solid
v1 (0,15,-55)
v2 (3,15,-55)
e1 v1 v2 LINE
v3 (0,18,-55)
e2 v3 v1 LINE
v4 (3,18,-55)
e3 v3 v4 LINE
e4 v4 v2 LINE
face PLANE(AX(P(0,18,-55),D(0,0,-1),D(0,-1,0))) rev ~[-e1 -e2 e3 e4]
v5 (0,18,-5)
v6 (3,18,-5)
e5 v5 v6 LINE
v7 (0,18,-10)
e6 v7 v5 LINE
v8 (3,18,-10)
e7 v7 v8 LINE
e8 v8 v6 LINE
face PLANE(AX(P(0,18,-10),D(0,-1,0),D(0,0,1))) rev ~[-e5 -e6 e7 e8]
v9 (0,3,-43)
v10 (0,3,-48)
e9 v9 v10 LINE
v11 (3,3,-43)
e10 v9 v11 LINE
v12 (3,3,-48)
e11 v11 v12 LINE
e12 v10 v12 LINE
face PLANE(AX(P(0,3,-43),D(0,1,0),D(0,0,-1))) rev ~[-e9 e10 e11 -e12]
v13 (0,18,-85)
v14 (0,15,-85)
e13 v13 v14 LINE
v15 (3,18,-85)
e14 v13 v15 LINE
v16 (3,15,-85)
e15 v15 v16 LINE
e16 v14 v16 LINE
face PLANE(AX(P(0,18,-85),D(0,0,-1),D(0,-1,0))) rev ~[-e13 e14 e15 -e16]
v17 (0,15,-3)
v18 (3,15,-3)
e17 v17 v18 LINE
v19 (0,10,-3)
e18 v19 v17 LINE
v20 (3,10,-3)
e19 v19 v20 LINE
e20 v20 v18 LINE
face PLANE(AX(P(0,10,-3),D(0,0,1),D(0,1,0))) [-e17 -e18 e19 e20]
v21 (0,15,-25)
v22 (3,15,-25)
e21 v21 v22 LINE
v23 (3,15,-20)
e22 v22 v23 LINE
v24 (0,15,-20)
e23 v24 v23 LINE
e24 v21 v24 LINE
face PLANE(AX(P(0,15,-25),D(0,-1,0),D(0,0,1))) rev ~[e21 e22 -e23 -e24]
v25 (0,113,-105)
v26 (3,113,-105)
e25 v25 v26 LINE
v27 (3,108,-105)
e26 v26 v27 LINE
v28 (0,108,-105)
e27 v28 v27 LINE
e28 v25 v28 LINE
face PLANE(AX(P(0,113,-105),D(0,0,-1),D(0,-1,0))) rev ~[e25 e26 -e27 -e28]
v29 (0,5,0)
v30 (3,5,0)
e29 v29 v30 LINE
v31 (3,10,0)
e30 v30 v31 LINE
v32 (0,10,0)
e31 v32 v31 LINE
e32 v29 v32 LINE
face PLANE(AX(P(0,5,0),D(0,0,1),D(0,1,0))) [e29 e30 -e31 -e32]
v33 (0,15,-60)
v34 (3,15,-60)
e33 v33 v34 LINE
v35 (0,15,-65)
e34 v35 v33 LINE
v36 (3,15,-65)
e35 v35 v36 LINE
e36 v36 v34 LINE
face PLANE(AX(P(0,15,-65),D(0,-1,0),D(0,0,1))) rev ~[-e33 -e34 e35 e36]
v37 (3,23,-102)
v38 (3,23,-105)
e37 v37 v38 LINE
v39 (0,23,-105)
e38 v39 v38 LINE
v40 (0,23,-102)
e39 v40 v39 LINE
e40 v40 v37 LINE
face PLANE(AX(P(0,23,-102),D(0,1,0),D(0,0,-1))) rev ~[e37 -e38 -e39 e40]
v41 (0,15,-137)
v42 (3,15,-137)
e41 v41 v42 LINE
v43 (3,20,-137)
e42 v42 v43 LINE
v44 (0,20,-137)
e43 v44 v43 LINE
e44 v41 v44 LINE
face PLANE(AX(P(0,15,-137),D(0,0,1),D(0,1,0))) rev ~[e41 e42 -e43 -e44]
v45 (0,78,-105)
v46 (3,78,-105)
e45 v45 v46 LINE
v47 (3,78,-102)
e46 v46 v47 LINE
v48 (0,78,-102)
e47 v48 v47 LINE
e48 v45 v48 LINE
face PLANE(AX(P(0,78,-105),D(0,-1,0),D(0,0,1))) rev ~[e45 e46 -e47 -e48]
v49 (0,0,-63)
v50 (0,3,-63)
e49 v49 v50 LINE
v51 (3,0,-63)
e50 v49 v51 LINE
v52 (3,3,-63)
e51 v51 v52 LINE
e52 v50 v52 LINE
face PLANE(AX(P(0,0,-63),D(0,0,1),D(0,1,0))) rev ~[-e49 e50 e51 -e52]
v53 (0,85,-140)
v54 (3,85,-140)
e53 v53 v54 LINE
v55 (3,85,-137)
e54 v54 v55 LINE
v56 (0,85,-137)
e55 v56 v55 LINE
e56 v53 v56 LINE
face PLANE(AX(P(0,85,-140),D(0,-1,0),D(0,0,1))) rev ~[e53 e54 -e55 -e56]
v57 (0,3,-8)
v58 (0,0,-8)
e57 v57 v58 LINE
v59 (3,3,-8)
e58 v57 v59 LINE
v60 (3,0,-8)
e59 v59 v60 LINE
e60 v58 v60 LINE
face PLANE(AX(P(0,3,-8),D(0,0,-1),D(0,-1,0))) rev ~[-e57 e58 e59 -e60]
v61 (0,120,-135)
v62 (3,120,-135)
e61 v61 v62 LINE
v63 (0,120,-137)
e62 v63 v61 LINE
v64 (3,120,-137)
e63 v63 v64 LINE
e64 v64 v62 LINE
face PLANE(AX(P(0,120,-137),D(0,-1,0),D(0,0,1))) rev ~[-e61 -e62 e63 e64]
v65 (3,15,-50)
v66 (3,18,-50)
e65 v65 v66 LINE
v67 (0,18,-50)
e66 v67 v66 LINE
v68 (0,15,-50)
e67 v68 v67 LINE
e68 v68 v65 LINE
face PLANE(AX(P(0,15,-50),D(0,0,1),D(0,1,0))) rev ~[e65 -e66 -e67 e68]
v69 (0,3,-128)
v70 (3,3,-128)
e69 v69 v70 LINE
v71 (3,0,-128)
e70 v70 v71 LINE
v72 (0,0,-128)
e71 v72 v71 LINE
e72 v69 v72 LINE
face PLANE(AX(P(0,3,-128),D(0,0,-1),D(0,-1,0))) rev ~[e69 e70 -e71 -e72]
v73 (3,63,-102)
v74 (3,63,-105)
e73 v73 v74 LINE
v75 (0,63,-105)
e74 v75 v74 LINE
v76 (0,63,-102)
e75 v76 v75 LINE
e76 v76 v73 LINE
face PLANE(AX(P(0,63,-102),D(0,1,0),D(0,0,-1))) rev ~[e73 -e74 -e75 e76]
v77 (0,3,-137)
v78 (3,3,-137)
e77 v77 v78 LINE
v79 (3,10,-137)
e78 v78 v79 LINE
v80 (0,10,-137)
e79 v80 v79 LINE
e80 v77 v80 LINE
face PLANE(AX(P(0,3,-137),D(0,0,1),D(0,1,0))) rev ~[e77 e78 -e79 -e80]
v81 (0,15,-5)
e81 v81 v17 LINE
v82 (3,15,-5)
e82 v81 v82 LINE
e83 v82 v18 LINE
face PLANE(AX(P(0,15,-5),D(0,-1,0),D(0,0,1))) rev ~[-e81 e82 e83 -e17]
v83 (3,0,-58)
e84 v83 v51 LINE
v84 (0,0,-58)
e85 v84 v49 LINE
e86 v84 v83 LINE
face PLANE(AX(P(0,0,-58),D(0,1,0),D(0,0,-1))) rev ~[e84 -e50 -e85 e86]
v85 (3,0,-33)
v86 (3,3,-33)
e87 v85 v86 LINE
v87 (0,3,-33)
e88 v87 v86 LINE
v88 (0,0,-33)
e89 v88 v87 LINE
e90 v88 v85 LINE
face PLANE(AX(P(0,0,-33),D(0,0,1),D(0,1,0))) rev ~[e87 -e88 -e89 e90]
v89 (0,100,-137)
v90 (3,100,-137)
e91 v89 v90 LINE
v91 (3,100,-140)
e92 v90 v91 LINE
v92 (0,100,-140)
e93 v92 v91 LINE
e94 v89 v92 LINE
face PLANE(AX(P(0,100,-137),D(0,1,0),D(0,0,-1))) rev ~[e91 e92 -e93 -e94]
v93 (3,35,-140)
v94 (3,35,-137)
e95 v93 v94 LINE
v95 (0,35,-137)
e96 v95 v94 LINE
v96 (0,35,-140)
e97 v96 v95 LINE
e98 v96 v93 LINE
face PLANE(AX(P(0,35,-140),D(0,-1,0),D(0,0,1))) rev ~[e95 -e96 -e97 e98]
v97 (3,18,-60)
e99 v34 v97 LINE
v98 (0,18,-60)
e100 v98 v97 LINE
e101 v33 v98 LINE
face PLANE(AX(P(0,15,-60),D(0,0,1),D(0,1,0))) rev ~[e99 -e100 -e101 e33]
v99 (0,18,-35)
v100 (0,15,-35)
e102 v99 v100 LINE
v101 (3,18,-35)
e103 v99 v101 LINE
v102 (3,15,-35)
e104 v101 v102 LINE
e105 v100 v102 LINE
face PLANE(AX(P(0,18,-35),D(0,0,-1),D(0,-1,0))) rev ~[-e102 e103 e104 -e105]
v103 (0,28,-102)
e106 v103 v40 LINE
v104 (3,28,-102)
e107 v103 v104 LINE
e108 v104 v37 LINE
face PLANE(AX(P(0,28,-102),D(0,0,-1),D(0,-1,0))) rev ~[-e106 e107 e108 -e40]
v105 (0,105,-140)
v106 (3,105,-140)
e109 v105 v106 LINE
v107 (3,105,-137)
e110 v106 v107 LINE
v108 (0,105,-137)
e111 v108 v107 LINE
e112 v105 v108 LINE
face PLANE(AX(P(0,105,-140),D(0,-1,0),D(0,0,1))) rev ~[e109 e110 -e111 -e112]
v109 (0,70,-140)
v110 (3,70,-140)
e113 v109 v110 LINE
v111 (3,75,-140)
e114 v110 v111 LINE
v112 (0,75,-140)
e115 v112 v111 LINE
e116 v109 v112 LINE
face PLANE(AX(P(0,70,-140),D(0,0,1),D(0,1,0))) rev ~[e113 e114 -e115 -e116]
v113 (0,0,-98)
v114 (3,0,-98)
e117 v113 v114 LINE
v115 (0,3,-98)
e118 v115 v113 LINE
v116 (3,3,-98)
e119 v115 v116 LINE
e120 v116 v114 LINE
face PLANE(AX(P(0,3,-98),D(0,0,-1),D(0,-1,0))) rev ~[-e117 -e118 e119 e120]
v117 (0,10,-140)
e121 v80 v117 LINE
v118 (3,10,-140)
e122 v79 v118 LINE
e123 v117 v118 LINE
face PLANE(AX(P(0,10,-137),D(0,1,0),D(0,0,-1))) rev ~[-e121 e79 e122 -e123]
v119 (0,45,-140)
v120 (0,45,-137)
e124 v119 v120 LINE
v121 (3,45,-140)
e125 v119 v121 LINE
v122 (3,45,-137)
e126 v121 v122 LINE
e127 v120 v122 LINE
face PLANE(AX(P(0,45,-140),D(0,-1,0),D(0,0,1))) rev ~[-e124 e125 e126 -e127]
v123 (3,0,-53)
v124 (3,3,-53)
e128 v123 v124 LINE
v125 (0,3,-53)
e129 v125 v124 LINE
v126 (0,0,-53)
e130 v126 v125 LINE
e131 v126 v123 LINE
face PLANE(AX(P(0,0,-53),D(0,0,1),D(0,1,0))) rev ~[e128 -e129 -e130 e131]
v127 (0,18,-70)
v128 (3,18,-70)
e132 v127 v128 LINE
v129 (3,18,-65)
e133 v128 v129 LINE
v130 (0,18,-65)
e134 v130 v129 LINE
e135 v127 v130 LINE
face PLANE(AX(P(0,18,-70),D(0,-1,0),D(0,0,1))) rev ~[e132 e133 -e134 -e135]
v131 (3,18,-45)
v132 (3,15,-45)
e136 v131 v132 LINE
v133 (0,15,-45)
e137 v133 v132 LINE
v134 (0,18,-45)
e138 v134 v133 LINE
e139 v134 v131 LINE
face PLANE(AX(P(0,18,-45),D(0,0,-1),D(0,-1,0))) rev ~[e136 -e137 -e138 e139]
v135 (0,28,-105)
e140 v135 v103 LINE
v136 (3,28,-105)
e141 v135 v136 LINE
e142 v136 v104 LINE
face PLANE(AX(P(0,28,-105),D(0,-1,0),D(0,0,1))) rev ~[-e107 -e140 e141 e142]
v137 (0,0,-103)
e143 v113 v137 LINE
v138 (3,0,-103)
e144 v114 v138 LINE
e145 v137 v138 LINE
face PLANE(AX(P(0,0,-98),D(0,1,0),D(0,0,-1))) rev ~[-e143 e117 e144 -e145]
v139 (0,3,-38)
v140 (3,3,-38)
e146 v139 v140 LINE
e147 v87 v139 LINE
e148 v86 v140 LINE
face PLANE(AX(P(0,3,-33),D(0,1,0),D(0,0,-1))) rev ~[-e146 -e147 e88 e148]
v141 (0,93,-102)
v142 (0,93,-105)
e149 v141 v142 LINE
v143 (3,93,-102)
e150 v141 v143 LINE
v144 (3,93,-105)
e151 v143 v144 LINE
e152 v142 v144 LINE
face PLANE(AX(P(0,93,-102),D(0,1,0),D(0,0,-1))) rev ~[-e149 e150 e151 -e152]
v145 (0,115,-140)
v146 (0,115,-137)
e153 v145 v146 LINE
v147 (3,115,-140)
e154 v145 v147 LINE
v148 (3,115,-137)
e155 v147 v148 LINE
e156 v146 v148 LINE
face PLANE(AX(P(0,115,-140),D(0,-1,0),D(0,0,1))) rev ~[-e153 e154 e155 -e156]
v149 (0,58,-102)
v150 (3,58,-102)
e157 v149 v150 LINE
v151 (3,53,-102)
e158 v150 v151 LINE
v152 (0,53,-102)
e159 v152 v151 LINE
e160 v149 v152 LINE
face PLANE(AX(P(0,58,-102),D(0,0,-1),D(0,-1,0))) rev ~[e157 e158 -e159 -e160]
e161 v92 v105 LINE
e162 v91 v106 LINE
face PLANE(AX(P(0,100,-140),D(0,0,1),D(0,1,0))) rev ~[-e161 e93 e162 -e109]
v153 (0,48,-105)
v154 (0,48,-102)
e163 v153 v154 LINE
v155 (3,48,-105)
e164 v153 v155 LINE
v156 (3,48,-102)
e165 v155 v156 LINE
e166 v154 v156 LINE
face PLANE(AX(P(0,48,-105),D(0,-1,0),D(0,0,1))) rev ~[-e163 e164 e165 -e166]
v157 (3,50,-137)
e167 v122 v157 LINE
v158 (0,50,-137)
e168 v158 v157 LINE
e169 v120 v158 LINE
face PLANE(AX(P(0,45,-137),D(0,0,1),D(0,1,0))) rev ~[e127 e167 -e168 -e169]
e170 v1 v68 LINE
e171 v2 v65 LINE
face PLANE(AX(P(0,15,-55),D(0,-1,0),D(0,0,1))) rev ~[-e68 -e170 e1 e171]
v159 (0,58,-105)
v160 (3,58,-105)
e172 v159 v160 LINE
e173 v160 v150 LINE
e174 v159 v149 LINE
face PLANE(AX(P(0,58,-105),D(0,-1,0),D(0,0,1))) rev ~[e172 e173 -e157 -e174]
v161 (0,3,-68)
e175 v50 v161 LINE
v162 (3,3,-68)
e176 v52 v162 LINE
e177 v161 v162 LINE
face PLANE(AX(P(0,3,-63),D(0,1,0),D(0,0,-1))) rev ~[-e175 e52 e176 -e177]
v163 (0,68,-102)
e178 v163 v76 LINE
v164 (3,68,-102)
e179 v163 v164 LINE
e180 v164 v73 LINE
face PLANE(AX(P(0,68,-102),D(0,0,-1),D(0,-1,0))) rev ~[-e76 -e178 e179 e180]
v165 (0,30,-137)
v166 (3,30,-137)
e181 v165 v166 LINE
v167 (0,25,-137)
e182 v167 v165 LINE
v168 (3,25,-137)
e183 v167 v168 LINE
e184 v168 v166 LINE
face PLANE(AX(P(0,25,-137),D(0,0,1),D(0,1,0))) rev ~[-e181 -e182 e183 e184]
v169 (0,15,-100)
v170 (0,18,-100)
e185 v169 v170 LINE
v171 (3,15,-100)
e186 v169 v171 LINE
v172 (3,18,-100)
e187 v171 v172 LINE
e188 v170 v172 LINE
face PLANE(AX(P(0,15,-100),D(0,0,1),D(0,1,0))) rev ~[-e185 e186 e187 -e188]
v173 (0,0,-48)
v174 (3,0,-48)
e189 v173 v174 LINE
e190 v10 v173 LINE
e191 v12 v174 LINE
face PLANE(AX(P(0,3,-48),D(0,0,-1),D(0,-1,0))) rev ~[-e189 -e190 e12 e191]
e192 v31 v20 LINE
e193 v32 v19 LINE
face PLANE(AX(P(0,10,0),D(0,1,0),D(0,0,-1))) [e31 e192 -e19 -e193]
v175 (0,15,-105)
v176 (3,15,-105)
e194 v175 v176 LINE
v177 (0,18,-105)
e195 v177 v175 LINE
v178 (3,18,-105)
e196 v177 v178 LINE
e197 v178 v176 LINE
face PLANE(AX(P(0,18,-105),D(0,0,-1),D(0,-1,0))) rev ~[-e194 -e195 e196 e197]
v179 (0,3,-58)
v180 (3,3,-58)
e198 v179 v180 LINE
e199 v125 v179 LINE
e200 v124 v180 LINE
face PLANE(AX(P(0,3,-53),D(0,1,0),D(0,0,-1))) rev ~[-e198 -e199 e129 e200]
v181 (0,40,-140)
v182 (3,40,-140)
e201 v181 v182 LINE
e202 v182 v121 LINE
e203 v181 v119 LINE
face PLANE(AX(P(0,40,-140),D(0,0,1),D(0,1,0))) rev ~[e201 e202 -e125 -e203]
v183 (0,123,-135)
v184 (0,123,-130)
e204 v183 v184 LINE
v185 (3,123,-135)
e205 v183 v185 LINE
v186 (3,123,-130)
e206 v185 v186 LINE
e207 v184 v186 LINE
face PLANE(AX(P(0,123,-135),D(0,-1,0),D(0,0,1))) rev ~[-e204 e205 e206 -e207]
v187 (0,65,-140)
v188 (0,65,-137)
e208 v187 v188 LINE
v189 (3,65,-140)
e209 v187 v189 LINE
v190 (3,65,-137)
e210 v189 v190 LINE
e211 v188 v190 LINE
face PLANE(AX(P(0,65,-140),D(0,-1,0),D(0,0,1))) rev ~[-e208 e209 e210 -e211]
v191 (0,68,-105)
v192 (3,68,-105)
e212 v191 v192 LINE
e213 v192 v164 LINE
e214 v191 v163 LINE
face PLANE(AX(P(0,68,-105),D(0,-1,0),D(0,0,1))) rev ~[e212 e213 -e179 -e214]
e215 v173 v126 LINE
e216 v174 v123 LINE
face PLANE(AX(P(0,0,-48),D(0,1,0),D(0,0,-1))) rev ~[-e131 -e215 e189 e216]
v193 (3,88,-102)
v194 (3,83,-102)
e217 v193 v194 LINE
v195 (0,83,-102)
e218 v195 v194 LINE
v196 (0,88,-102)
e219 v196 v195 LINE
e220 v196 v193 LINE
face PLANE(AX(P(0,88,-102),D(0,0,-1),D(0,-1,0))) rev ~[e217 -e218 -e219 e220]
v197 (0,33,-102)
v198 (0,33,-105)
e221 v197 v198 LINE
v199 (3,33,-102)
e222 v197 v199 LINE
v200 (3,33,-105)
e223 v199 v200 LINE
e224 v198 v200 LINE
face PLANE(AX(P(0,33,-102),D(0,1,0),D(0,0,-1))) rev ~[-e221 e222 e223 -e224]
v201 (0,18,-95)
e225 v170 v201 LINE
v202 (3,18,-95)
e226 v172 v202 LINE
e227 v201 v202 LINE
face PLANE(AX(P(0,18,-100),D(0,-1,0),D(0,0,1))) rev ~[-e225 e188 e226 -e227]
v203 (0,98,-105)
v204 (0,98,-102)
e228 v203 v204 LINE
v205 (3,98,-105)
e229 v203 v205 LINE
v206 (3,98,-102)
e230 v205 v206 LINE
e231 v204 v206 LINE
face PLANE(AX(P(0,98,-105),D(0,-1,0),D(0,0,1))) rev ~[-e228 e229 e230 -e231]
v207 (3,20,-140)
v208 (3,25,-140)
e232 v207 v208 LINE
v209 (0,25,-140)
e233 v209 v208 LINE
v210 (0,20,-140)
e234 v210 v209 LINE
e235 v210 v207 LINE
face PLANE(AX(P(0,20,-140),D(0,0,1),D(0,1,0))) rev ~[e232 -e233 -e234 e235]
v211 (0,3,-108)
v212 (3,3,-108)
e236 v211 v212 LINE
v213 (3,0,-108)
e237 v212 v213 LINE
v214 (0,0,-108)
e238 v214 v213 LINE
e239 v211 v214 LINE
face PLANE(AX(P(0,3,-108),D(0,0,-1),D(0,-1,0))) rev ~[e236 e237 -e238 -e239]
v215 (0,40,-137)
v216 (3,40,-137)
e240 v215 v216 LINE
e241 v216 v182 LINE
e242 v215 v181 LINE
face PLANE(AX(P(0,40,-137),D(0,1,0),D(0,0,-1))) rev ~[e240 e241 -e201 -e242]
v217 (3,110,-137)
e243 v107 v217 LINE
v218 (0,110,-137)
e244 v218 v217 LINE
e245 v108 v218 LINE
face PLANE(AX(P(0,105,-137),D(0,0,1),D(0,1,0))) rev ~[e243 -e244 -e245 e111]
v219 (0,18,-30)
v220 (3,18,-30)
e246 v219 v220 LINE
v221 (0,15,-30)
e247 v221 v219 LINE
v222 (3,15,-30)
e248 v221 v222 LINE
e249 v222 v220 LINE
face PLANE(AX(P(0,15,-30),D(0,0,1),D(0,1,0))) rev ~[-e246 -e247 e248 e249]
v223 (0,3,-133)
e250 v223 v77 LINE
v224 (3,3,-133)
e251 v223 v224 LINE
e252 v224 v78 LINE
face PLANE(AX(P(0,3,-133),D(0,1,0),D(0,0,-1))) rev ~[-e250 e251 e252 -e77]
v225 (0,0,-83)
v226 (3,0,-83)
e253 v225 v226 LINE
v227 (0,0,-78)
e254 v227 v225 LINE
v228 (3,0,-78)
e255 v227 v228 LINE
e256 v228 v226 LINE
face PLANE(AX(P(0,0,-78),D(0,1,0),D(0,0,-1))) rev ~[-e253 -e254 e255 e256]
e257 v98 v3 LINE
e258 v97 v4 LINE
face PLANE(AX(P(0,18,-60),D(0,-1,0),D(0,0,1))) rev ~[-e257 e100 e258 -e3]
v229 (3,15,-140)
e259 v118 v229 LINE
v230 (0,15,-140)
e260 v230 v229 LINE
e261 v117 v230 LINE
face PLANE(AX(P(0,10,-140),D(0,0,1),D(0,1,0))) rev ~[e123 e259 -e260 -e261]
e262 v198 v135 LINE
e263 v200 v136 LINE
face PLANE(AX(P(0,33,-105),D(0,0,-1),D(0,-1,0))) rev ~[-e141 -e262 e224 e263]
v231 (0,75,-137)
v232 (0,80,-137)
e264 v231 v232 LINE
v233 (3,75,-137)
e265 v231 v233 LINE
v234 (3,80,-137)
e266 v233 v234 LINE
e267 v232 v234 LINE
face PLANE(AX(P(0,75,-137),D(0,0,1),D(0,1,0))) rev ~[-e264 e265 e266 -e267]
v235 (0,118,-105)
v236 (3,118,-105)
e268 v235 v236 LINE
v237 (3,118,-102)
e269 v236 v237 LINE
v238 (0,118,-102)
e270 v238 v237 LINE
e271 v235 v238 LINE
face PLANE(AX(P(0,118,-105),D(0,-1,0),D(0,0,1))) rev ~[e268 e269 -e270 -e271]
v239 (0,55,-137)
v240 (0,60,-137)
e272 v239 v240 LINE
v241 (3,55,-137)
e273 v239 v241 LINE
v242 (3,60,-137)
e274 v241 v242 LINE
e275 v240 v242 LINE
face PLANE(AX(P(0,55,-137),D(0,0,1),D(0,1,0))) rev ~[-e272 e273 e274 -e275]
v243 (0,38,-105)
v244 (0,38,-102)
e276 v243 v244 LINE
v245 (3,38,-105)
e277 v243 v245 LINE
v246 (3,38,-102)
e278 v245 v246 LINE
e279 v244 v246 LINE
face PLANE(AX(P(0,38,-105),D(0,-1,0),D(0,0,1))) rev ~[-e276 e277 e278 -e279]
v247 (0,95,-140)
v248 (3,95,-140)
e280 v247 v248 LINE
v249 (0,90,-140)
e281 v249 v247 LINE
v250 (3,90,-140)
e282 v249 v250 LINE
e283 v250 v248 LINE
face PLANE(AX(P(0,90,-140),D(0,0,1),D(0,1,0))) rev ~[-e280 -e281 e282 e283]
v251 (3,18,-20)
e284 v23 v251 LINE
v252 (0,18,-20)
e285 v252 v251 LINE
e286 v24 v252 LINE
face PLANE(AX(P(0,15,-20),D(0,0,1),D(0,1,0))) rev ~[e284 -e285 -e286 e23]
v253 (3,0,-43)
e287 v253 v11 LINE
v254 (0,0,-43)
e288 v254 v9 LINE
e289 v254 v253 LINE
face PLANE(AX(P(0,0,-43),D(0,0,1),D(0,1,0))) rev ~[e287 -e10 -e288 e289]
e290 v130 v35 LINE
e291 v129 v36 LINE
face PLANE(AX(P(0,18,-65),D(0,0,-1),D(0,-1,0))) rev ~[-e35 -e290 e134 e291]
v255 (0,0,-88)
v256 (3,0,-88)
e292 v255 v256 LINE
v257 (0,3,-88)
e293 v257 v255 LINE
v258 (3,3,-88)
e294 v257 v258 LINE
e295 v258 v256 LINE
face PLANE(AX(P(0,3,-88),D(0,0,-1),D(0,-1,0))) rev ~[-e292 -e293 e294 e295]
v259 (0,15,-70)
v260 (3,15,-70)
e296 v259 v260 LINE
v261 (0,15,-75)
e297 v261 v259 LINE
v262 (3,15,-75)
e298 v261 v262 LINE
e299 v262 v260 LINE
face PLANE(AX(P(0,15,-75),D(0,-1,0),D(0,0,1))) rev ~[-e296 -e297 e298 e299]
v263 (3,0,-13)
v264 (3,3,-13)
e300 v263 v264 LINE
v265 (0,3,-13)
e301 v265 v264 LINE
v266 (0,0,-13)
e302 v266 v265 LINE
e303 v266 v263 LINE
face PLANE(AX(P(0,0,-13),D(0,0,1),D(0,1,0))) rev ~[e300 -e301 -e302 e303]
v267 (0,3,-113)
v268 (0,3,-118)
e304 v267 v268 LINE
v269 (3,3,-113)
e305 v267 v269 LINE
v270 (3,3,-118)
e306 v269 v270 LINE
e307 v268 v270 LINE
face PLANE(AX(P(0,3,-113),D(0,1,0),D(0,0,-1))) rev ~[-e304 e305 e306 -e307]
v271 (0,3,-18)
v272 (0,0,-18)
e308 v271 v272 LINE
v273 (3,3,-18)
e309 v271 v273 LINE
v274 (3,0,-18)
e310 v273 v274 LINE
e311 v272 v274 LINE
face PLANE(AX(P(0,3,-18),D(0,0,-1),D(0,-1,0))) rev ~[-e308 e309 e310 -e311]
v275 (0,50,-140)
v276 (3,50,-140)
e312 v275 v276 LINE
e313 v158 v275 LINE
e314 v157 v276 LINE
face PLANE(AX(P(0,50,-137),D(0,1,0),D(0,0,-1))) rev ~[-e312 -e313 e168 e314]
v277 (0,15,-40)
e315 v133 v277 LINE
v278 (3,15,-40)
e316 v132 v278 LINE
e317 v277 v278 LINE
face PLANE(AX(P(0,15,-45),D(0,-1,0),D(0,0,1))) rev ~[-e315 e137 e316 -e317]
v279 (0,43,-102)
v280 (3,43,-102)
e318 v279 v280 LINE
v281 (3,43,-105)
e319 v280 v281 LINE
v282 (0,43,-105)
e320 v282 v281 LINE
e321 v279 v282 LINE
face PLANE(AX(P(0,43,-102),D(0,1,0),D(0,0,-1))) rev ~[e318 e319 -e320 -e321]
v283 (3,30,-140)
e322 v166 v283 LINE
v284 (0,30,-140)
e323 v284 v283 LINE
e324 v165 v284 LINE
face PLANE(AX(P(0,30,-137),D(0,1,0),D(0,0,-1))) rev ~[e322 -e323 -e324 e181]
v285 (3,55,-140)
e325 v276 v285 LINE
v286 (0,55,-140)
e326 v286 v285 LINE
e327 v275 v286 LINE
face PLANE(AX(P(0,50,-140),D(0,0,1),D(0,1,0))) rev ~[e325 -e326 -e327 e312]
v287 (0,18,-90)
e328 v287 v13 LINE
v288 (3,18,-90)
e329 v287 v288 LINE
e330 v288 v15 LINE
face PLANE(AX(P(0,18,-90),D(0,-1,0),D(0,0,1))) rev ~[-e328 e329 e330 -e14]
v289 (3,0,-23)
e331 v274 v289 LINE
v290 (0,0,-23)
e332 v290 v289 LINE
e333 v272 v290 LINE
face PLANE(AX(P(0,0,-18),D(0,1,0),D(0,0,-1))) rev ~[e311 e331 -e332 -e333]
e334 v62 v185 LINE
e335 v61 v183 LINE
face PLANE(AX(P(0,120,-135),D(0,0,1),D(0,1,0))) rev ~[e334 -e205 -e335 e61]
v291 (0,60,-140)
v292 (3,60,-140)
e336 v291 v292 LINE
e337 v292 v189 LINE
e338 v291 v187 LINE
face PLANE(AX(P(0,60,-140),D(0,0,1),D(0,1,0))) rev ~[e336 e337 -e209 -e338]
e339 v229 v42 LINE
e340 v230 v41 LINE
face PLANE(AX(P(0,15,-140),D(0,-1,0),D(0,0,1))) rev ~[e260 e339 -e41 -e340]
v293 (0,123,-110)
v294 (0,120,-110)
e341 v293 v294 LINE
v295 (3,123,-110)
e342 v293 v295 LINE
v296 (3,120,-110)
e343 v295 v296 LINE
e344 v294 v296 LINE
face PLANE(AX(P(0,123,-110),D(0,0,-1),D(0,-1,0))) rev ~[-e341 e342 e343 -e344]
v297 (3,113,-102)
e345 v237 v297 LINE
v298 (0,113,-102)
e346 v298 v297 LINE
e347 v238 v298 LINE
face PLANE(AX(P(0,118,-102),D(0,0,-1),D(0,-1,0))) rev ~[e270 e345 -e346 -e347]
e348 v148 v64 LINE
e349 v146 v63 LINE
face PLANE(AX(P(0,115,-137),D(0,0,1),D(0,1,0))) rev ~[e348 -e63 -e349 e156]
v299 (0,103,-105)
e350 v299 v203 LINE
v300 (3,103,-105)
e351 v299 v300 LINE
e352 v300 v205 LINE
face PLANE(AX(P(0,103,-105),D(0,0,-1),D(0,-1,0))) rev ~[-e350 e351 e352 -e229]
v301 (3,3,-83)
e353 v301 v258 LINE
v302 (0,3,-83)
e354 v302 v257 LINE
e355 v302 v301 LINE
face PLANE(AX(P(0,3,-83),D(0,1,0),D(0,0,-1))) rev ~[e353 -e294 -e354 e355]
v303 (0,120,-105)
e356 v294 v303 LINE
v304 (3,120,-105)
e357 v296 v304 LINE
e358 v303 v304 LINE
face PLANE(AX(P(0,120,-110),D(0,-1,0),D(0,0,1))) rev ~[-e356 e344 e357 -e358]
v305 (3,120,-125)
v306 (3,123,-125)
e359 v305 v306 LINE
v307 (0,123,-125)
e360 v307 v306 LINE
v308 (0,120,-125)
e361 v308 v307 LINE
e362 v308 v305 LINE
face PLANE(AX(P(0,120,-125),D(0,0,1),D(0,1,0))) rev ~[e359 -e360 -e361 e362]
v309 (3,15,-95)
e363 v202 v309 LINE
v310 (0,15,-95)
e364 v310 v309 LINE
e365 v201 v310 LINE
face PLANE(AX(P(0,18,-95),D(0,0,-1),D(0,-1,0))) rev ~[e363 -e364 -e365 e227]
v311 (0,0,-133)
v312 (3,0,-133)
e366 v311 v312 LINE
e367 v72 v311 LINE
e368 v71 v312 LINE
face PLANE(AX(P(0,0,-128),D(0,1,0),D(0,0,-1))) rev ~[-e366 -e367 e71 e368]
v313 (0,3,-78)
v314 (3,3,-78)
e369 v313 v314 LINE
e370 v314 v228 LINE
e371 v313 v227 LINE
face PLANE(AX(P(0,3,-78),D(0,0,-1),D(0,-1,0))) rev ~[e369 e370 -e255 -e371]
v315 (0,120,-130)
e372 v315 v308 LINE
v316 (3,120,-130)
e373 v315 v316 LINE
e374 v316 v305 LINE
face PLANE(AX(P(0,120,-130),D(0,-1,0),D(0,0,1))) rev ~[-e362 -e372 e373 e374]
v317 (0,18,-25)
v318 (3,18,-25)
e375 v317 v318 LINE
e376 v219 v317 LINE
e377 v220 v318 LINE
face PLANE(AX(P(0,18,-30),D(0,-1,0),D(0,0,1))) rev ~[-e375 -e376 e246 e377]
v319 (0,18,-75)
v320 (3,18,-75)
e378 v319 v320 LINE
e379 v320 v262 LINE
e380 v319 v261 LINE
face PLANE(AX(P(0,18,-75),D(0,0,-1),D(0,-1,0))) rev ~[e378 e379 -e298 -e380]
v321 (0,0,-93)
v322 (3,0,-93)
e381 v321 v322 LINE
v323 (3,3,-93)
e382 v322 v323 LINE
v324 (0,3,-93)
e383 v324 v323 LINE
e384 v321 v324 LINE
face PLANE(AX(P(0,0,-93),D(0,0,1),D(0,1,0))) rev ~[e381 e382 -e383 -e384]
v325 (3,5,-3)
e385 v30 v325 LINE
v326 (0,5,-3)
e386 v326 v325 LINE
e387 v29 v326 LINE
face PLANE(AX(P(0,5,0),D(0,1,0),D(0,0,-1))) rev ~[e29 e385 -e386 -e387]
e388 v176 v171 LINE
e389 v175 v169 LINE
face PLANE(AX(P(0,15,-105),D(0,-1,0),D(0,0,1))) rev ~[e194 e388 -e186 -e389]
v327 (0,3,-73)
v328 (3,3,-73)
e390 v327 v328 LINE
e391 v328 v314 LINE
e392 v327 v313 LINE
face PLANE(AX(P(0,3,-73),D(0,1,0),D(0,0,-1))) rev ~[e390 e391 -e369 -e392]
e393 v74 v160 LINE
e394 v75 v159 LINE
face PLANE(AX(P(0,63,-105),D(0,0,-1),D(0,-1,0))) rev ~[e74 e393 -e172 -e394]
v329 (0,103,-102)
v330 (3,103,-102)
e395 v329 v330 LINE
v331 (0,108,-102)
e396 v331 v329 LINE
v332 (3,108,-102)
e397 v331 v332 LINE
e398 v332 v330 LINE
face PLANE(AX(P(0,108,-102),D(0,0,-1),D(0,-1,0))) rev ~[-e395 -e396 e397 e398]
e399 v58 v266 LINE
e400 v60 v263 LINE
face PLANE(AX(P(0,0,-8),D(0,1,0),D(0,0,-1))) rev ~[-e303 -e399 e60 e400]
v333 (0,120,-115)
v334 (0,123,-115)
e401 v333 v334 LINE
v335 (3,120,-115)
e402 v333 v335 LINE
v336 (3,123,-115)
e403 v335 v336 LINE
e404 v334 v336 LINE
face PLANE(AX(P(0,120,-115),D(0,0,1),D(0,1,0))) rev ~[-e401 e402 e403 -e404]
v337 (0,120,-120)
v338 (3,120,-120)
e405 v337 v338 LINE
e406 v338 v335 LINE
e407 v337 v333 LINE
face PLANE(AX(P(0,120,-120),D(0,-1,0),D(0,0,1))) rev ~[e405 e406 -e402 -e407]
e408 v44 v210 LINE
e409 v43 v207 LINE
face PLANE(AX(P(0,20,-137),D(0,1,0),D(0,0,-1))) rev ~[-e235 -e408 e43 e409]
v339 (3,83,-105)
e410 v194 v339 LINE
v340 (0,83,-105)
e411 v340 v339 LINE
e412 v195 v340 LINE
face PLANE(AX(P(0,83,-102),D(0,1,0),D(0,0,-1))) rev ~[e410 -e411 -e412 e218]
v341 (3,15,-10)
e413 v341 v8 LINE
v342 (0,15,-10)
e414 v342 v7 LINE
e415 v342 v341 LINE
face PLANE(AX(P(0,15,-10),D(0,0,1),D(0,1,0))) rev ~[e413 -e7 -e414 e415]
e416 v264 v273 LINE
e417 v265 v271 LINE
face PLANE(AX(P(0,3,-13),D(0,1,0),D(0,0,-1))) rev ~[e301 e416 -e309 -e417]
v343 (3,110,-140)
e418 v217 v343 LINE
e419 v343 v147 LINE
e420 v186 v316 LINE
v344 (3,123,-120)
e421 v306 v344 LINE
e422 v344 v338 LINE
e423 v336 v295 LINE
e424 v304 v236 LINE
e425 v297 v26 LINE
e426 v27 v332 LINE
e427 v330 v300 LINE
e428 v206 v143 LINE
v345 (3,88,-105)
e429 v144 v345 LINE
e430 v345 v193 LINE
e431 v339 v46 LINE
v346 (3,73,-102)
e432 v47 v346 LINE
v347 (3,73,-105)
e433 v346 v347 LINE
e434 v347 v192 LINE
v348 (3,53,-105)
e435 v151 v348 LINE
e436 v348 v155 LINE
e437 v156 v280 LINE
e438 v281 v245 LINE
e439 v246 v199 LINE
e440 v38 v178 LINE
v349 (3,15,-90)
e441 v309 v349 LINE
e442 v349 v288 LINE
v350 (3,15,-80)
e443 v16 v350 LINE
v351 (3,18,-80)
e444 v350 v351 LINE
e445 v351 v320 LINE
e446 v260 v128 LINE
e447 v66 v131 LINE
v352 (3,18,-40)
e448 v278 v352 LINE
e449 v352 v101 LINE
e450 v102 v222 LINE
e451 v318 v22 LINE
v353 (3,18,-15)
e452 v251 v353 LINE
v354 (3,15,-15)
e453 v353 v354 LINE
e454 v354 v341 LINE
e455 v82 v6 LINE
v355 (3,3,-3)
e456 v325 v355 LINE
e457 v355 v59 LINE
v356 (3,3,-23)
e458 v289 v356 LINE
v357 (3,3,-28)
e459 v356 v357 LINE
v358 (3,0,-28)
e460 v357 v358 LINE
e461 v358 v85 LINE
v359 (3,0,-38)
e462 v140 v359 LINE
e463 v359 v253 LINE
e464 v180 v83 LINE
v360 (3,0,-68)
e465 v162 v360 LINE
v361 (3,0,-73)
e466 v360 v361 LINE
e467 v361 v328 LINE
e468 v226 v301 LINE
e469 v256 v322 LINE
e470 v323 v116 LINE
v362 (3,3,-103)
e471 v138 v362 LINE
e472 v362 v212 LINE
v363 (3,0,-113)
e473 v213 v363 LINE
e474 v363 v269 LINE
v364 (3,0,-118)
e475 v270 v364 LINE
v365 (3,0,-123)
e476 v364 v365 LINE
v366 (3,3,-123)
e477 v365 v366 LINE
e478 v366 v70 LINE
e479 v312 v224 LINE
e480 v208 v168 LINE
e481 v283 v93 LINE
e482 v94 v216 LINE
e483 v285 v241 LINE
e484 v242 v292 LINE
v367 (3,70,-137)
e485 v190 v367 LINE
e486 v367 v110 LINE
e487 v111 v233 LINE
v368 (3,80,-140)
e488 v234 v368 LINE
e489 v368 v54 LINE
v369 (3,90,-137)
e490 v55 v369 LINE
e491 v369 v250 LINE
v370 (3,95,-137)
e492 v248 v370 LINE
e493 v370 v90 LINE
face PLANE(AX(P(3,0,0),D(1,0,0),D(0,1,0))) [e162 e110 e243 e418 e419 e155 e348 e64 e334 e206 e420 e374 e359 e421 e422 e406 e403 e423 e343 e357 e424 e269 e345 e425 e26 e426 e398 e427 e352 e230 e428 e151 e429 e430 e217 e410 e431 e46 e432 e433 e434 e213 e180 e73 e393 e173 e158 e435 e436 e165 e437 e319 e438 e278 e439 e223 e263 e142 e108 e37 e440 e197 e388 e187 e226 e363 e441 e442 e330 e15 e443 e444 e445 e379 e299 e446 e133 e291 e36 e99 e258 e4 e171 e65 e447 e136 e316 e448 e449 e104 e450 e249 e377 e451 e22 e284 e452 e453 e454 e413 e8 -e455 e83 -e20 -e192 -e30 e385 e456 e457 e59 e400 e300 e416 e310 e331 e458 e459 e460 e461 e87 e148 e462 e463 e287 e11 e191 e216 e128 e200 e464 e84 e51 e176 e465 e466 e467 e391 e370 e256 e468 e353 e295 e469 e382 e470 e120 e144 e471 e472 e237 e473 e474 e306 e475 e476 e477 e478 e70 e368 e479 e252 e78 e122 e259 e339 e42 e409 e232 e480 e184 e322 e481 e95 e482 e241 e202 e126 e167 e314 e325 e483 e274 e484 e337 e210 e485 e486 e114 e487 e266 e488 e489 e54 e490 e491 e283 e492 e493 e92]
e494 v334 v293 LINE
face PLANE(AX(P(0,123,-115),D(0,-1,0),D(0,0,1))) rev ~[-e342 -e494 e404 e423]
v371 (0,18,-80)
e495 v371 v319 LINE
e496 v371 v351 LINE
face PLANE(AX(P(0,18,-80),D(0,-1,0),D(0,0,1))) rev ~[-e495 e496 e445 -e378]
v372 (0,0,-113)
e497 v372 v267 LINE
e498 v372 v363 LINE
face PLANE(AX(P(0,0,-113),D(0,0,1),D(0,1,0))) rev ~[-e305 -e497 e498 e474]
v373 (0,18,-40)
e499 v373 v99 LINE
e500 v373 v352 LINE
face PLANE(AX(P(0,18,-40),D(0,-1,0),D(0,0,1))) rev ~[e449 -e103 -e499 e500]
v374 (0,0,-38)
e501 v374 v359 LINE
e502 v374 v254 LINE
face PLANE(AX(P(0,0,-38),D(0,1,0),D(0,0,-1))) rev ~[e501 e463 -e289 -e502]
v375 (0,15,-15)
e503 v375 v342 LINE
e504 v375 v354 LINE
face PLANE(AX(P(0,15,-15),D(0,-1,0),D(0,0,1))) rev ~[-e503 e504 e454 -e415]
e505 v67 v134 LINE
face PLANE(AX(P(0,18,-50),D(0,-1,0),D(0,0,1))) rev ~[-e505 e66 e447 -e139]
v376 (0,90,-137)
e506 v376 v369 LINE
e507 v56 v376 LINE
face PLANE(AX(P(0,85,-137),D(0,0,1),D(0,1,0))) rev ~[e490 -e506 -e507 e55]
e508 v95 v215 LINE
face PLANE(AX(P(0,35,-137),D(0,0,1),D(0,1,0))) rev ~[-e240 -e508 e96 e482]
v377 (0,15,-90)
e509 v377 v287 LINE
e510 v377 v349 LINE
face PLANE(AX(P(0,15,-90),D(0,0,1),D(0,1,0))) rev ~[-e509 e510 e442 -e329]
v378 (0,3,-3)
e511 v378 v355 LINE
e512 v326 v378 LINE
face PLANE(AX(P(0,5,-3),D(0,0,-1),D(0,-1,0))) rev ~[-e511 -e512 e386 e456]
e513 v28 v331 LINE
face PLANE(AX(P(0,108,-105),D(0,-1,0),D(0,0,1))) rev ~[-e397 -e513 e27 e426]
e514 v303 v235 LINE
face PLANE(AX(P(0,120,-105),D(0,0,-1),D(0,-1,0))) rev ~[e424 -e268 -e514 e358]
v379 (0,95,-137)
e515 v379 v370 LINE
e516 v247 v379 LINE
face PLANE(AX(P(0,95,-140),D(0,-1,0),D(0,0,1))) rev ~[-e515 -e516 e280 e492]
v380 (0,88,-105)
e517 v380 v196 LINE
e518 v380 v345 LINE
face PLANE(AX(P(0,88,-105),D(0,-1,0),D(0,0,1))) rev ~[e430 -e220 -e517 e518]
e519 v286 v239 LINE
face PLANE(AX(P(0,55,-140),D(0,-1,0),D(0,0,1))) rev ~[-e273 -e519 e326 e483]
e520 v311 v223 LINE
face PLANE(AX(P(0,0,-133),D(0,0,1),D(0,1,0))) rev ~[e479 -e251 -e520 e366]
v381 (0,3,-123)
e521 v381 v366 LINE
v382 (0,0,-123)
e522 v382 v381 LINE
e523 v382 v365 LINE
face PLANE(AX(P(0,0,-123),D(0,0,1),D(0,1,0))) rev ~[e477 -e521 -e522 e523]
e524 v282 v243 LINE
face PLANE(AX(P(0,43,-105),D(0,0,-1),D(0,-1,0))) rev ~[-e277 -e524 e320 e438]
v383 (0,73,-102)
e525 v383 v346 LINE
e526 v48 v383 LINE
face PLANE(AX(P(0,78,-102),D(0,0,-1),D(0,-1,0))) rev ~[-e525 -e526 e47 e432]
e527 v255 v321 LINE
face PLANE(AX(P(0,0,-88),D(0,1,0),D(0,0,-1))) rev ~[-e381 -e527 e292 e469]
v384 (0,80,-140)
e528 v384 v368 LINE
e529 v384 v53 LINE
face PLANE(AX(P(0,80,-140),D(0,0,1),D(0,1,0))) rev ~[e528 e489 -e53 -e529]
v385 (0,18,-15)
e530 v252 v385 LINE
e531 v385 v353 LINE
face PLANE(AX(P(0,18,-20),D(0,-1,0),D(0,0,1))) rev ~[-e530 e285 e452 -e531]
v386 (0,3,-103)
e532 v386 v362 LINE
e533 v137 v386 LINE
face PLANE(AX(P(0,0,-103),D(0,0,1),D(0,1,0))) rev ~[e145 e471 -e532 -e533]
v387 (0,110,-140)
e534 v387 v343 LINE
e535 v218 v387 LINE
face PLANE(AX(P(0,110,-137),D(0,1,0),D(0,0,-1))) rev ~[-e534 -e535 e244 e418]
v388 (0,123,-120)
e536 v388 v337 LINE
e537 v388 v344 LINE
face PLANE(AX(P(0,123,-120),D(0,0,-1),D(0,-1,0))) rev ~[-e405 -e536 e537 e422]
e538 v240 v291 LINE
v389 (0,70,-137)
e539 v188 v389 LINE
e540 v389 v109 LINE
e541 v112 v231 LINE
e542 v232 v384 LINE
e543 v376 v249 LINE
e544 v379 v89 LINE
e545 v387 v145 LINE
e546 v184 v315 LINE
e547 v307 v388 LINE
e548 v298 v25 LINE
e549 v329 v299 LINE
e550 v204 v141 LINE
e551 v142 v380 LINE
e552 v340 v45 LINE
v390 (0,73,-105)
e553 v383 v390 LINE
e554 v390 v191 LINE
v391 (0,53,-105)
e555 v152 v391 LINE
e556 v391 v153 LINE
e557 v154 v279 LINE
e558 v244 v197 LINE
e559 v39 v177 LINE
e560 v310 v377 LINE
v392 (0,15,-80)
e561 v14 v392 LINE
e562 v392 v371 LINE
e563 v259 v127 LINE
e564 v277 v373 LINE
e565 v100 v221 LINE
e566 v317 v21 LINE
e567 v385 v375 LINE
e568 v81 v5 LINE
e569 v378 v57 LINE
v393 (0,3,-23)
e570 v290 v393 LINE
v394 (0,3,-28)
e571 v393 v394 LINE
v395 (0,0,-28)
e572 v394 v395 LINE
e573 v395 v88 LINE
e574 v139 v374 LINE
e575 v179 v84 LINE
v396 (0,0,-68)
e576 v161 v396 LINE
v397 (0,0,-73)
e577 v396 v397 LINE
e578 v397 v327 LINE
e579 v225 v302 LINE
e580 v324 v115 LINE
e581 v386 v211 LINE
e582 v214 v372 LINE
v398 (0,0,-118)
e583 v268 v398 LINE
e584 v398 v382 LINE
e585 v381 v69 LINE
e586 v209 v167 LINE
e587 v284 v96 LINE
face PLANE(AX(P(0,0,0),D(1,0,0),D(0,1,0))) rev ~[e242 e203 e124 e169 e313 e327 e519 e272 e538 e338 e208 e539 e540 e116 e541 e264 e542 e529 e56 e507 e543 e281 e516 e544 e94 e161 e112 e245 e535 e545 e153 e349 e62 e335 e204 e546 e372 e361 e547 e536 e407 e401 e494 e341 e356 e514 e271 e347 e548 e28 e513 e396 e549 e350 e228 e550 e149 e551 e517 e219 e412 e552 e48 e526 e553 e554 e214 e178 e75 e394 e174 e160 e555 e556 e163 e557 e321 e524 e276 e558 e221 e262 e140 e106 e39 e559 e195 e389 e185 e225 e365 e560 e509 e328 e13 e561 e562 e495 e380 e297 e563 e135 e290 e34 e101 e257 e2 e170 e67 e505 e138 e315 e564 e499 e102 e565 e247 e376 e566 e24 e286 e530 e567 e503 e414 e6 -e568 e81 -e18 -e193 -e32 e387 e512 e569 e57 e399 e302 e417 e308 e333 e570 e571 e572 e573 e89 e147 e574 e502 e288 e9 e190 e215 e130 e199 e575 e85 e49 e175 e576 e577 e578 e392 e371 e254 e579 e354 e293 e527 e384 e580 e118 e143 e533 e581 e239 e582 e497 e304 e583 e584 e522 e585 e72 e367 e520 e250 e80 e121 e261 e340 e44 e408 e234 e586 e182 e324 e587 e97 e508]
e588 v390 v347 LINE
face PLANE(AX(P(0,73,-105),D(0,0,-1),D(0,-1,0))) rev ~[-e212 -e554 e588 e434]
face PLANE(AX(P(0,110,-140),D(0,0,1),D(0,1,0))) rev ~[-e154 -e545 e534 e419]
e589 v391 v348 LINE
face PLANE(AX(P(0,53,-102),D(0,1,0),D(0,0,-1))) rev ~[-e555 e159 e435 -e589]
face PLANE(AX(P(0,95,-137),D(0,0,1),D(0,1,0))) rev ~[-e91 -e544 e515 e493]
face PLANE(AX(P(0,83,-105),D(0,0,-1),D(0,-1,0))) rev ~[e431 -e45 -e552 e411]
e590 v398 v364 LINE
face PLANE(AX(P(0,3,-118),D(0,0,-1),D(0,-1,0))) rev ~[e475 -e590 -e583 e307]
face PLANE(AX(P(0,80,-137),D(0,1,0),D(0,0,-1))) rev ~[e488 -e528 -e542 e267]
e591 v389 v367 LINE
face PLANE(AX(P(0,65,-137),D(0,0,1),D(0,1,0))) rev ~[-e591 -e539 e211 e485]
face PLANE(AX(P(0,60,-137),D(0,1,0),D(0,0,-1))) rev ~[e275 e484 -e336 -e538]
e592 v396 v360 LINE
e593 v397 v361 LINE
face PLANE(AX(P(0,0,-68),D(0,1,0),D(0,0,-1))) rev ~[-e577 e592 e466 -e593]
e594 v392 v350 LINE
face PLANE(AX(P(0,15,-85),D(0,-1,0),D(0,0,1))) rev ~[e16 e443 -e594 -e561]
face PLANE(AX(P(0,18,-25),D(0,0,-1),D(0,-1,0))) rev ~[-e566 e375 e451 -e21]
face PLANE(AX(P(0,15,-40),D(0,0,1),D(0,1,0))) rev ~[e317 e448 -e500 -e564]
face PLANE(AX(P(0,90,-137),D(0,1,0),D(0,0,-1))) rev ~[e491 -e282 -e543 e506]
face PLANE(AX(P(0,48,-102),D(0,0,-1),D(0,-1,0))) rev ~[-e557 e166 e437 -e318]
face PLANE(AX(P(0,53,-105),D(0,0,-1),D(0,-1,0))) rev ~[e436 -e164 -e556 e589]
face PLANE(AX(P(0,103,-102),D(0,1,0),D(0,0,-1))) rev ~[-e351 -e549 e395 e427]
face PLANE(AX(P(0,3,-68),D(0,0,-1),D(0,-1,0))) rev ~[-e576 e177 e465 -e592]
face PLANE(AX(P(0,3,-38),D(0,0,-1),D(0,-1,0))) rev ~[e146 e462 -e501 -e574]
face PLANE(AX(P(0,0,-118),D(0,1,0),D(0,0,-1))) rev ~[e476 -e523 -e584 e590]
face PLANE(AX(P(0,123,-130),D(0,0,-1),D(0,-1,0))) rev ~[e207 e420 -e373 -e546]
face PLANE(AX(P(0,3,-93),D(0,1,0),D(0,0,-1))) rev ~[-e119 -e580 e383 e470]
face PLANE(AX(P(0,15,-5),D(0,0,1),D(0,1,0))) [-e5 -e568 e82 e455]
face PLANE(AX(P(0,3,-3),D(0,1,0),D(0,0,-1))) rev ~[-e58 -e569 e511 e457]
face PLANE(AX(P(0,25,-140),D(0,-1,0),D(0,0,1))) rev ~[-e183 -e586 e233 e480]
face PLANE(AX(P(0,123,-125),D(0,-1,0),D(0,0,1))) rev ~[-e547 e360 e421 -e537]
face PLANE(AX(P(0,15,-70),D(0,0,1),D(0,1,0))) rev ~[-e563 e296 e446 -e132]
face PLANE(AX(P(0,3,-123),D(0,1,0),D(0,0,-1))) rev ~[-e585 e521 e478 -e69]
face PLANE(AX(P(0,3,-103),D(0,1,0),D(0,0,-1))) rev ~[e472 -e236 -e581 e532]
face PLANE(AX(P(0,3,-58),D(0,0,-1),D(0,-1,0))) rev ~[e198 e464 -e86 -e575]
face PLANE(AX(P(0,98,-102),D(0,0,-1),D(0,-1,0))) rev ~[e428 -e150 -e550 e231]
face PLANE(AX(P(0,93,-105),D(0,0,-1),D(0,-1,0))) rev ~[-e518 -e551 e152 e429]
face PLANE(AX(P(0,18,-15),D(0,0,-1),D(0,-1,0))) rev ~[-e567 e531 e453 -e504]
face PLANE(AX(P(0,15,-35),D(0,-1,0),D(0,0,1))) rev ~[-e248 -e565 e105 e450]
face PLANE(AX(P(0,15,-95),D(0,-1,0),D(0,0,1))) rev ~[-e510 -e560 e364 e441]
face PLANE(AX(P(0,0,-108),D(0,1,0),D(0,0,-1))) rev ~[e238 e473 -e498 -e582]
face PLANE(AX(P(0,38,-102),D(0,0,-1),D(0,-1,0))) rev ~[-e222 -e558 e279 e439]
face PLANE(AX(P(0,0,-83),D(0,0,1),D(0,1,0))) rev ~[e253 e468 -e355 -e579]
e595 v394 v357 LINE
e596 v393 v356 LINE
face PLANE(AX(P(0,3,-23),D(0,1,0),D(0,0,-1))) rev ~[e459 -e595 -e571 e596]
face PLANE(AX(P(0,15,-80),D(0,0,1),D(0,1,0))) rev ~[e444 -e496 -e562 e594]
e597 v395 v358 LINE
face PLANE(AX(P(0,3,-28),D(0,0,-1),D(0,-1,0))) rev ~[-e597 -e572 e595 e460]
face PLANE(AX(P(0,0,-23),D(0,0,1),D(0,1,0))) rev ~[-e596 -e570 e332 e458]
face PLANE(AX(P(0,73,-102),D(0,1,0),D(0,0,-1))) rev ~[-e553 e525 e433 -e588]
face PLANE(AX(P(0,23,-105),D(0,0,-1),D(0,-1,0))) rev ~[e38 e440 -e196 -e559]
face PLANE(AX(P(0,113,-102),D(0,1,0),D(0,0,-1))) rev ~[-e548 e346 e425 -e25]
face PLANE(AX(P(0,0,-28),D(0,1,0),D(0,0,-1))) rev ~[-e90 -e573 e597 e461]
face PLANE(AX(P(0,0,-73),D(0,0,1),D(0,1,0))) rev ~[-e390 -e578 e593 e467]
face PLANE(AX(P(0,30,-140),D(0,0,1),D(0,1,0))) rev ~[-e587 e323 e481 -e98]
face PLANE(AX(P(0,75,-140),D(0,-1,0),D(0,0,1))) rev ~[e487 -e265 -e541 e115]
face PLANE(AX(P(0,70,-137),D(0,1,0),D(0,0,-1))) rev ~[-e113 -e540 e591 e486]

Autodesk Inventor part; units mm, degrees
ref_plane "YZ Plane" through (0, 0, 0) normal (1, 0, 0) x (0, 1, 0)
ref_plane "XZ Plane" through (0, 0, 0) normal (0, 1, 0) x (-1, 0, 0)
ref_plane "XY Plane" through (0, 0, 0) normal (0, 0, 1) x (1, 0, 0)
sketch "Skizze1" plane through (0, 0, 0) normal (1, 0, 0) x (0, 1, 0)
  line L0 (5, 0) -> (5, -3)
  line L1 (5, -3) -> (3, -3)
  line L2 (3, -3) -> (3, -8)
  line L3 (3, -8) -> (0, -8)
  line L4 (0, -8) -> (0, -13)
  line L5 (0, -13) -> (3, -13)
  line L6 (3, -13) -> (3, -18)
  line L7 (3, -18) -> (0, -18)
  line L8 (0, -18) -> (0, -23)
  line L9 (0, -23) -> (3, -23)
  line L10 (3, -23) -> (3, -28)
  line L11 (3, -28) -> (0, -28)
  line L12 (0, -28) -> (0, -33)
  line L13 (0, -33) -> (3, -33)
  line L14 (3, -33) -> (3, -38)
  line L15 (3, -38) -> (0, -38)
  line L16 (0, -38) -> (0, -43)
  line L17 (0, -43) -> (3, -43)
  line L18 (3, -43) -> (3, -48)
  line L19 (3, -48) -> (0, -48)
  line L20 (0, -48) -> (0, -53)
  line L21 (0, -53) -> (3, -53)
  line L22 (3, -53) -> (3, -58)
  line L23 (3, -58) -> (0, -58)
  line L24 (0, -58) -> (0, -63)
  line L25 (0, -63) -> (3, -63)
  line L26 (3, -63) -> (3, -68)
  line L27 (3, -68) -> (0, -68)
  line L28 (0, -68) -> (0, -73)
  line L29 (0, -73) -> (3, -73)
  line L30 (3, -73) -> (3, -78)
  line L31 (3, -78) -> (0, -78)
  line L32 (0, -78) -> (0, -83)
  line L33 (0, -83) -> (3, -83)
  line L34 (3, -83) -> (3, -88)
  line L35 (3, -88) -> (0, -88)
  line L36 (0, -88) -> (0, -93)
  line L37 (0, -93) -> (3, -93)
  line L38 (3, -93) -> (3, -98)
  line L39 (3, -98) -> (0, -98)
  line L40 (0, -98) -> (0, -103)
  line L41 (0, -103) -> (3, -103)
  line L42 (3, -133) -> (3, -137)
  line L43 (3, -137) -> (10, -137)
  line L44 (10, -137) -> (10, -140)
  line L45 (10, -140) -> (15, -140)
  line L46 (15, -140) -> (15, -137)
  line L47 (15, -137) -> (20, -137)
  line L48 (25, -137) -> (30, -137)
  line L49 (25, -140) -> (25, -137)
  line L50 (20, -140) -> (25, -140)
  line L51 (20, -137) -> (20, -140)
  line L52 (35, -137) -> (40, -137)
  line L53 (35, -140) -> (35, -137)
  line L54 (30, -140) -> (35, -140)
  line L55 (30, -137) -> (30, -140)
  line L56 (45, -137) -> (50, -137)
  line L57 (45, -140) -> (45, -137)
  line L58 (40, -140) -> (45, -140)
  line L59 (40, -137) -> (40, -140)
  line L60 (55, -137) -> (60, -137)
  line L61 (55, -140) -> (55, -137)
  line L62 (50, -140) -> (55, -140)
  line L63 (50, -137) -> (50, -140)
  line L64 (65, -137) -> (70, -137)
  line L65 (65, -140) -> (65, -137)
  line L66 (60, -140) -> (65, -140)
  line L67 (60, -137) -> (60, -140)
  line L68 (75, -137) -> (80, -137)
  line L69 (75, -140) -> (75, -137)
  line L70 (70, -140) -> (75, -140)
  line L71 (70, -137) -> (70, -140)
  line L72 (85, -137) -> (90, -137)
  line L73 (85, -140) -> (85, -137)
  line L74 (80, -140) -> (85, -140)
  line L75 (80, -137) -> (80, -140)
  line L76 (95, -137) -> (100, -137)
  line L77 (95, -140) -> (95, -137)
  line L78 (90, -140) -> (95, -140)
  line L79 (90, -137) -> (90, -140)
  line L80 (105, -137) -> (110, -137)
  line L81 (105, -140) -> (105, -137)
  line L82 (100, -140) -> (105, -140)
  line L83 (100, -137) -> (100, -140)
  line L84 (115, -137) -> (120, -137)
  line L85 (115, -140) -> (115, -137)
  line L86 (110, -140) -> (115, -140)
  line L87 (110, -137) -> (110, -140)
  line L88 (120, -137) -> (120, -135)
  line L89 (120, -135) -> (123, -135)
  line L90 (123, -135) -> (123, -130)
  line L91 (123, -130) -> (120, -130)
  line L92 (120, -130) -> (120, -125)
  line L93 (120, -105) -> (118, -105)
  line L94 (118, -105) -> (118, -102)
  line L95 (118, -102) -> (113, -102)
  line L96 (113, -102) -> (113, -105)
  line L97 (113, -105) -> (108, -105)
  line L98 (103, -105) -> (98, -105)
  line L99 (103, -102) -> (103, -105)
  line L100 (108, -102) -> (103, -102)
  line L101 (108, -105) -> (108, -102)
  line L102 (93, -105) -> (88, -105)
  line L103 (93, -102) -> (93, -105)
  line L104 (98, -102) -> (93, -102)
  line L105 (98, -105) -> (98, -102)
  line L106 (83, -105) -> (78, -105)
  line L107 (83, -102) -> (83, -105)
  line L108 (88, -102) -> (83, -102)
  line L109 (88, -105) -> (88, -102)
  line L110 (73, -105) -> (68, -105)
  line L111 (73, -102) -> (73, -105)
  line L112 (78, -102) -> (73, -102)
  line L113 (78, -105) -> (78, -102)
  line L114 (63, -105) -> (58, -105)
  line L115 (63, -102) -> (63, -105)
  line L116 (68, -102) -> (63, -102)
  line L117 (68, -105) -> (68, -102)
  line L118 (53, -105) -> (48, -105)
  line L119 (53, -102) -> (53, -105)
  line L120 (58, -102) -> (53, -102)
  line L121 (58, -105) -> (58, -102)
  line L122 (43, -105) -> (38, -105)
  line L123 (43, -102) -> (43, -105)
  line L124 (48, -102) -> (43, -102)
  line L125 (48, -105) -> (48, -102)
  line L126 (33, -105) -> (28, -105)
  line L127 (33, -102) -> (33, -105)
  line L128 (38, -102) -> (33, -102)
  line L129 (38, -105) -> (38, -102)
  line L130 (23, -105) -> (18, -105)
  line L131 (23, -102) -> (23, -105)
  line L132 (28, -102) -> (23, -102)
  line L133 (28, -105) -> (28, -102)
  line L134 (5, 0) -> (10, 0)
  line L135 (10, 0) -> (10, -3)
  line L136 (10, -3) -> (15, -3)
  line L137 (18, -105) -> (15, -105)
  line L138 (15, -105) -> (15, -100)
  line L139 (15, -100) -> (18, -100)
  line L140 (18, -100) -> (18, -95)
  line L141 (18, -90) -> (18, -85)
  line L142 (18, -95) -> (15, -95)
  line L143 (15, -90) -> (18, -90)
  line L144 (15, -95) -> (15, -90)
  line L145 (18, -80) -> (18, -75)
  line L146 (18, -85) -> (15, -85)
  line L147 (15, -80) -> (18, -80)
  line L148 (15, -85) -> (15, -80)
  line L149 (18, -70) -> (18, -65)
  line L150 (18, -75) -> (15, -75)
  line L151 (15, -70) -> (18, -70)
  line L152 (15, -75) -> (15, -70)
  line L153 (18, -60) -> (18, -55)
  line L154 (18, -65) -> (15, -65)
  line L155 (15, -60) -> (18, -60)
  line L156 (15, -65) -> (15, -60)
  line L157 (18, -50) -> (18, -45)
  line L158 (18, -55) -> (15, -55)
  line L159 (15, -50) -> (18, -50)
  line L160 (15, -55) -> (15, -50)
  line L161 (18, -40) -> (18, -35)
  line L162 (18, -45) -> (15, -45)
  line L163 (15, -40) -> (18, -40)
  line L164 (15, -45) -> (15, -40)
  line L165 (18, -30) -> (18, -25)
  line L166 (18, -35) -> (15, -35)
  line L167 (15, -30) -> (18, -30)
  line L168 (15, -35) -> (15, -30)
  line L169 (3, -103) -> (3, -108)
  line L170 (3, -108) -> (0, -108)
  line L171 (0, -108) -> (0, -113)
  line L172 (0, -113) -> (3, -113)
  line L173 (3, -113) -> (3, -118)
  line L174 (3, -118) -> (0, -118)
  line L175 (0, -118) -> (0, -123)
  line L176 (0, -123) -> (3, -123)
  line L177 (18, -20) -> (18, -15)
  line L178 (18, -25) -> (15, -25)
  line L179 (15, -20) -> (18, -20)
  line L180 (15, -25) -> (15, -20)
  line L181 (18, -10) -> (18, -5)
  line L182 (18, -15) -> (15, -15)
  line L183 (15, -10) -> (18, -10)
  line L184 (15, -15) -> (15, -10)
  line L185 (15, -5) -> (18, -5)
  line L186 (3, -123) -> (3, -128)
  line L187 (3, -128) -> (0, -128)
  line L188 (0, -128) -> (0, -133)
  line L189 (0, -133) -> (3, -133)
  line L190 (15, -5) -> (15, -3)
  line L191 (120, -120) -> (120, -115)
  line L192 (120, -125) -> (123, -125)
  line L193 (123, -120) -> (120, -120)
  line L194 (123, -125) -> (123, -120)
  line L195 (120, -110) -> (120, -105)
  line L196 (120, -115) -> (123, -115)
  line L197 (123, -110) -> (120, -110)
  line L198 (123, -115) -> (123, -110)
  point P0 (0, 0)
  point P1 (108, -105)
  point P2 (98, -105)
  point P3 (88, -105)
  point P4 (78, -105)
  point P5 (68, -105)
  point P6 (58, -105)
  point P7 (48, -105)
  point P8 (38, -105)
  point P9 (28, -105)
  dimension "d0" = 3
  dimension "d1" = 5
  dimension "d2" = 2
  dimension "d5" = 10
  dimension "d10" = 4
  dimension "d11" = 7
  dimension "d14" = 10
  dimension "d28" = 10
  dimension "d35" = 10
  dimension "d44" = 10
extrude "Extrusion1" add sketch "Skizze1" along normal blind 3
properties part number "plate_side"
